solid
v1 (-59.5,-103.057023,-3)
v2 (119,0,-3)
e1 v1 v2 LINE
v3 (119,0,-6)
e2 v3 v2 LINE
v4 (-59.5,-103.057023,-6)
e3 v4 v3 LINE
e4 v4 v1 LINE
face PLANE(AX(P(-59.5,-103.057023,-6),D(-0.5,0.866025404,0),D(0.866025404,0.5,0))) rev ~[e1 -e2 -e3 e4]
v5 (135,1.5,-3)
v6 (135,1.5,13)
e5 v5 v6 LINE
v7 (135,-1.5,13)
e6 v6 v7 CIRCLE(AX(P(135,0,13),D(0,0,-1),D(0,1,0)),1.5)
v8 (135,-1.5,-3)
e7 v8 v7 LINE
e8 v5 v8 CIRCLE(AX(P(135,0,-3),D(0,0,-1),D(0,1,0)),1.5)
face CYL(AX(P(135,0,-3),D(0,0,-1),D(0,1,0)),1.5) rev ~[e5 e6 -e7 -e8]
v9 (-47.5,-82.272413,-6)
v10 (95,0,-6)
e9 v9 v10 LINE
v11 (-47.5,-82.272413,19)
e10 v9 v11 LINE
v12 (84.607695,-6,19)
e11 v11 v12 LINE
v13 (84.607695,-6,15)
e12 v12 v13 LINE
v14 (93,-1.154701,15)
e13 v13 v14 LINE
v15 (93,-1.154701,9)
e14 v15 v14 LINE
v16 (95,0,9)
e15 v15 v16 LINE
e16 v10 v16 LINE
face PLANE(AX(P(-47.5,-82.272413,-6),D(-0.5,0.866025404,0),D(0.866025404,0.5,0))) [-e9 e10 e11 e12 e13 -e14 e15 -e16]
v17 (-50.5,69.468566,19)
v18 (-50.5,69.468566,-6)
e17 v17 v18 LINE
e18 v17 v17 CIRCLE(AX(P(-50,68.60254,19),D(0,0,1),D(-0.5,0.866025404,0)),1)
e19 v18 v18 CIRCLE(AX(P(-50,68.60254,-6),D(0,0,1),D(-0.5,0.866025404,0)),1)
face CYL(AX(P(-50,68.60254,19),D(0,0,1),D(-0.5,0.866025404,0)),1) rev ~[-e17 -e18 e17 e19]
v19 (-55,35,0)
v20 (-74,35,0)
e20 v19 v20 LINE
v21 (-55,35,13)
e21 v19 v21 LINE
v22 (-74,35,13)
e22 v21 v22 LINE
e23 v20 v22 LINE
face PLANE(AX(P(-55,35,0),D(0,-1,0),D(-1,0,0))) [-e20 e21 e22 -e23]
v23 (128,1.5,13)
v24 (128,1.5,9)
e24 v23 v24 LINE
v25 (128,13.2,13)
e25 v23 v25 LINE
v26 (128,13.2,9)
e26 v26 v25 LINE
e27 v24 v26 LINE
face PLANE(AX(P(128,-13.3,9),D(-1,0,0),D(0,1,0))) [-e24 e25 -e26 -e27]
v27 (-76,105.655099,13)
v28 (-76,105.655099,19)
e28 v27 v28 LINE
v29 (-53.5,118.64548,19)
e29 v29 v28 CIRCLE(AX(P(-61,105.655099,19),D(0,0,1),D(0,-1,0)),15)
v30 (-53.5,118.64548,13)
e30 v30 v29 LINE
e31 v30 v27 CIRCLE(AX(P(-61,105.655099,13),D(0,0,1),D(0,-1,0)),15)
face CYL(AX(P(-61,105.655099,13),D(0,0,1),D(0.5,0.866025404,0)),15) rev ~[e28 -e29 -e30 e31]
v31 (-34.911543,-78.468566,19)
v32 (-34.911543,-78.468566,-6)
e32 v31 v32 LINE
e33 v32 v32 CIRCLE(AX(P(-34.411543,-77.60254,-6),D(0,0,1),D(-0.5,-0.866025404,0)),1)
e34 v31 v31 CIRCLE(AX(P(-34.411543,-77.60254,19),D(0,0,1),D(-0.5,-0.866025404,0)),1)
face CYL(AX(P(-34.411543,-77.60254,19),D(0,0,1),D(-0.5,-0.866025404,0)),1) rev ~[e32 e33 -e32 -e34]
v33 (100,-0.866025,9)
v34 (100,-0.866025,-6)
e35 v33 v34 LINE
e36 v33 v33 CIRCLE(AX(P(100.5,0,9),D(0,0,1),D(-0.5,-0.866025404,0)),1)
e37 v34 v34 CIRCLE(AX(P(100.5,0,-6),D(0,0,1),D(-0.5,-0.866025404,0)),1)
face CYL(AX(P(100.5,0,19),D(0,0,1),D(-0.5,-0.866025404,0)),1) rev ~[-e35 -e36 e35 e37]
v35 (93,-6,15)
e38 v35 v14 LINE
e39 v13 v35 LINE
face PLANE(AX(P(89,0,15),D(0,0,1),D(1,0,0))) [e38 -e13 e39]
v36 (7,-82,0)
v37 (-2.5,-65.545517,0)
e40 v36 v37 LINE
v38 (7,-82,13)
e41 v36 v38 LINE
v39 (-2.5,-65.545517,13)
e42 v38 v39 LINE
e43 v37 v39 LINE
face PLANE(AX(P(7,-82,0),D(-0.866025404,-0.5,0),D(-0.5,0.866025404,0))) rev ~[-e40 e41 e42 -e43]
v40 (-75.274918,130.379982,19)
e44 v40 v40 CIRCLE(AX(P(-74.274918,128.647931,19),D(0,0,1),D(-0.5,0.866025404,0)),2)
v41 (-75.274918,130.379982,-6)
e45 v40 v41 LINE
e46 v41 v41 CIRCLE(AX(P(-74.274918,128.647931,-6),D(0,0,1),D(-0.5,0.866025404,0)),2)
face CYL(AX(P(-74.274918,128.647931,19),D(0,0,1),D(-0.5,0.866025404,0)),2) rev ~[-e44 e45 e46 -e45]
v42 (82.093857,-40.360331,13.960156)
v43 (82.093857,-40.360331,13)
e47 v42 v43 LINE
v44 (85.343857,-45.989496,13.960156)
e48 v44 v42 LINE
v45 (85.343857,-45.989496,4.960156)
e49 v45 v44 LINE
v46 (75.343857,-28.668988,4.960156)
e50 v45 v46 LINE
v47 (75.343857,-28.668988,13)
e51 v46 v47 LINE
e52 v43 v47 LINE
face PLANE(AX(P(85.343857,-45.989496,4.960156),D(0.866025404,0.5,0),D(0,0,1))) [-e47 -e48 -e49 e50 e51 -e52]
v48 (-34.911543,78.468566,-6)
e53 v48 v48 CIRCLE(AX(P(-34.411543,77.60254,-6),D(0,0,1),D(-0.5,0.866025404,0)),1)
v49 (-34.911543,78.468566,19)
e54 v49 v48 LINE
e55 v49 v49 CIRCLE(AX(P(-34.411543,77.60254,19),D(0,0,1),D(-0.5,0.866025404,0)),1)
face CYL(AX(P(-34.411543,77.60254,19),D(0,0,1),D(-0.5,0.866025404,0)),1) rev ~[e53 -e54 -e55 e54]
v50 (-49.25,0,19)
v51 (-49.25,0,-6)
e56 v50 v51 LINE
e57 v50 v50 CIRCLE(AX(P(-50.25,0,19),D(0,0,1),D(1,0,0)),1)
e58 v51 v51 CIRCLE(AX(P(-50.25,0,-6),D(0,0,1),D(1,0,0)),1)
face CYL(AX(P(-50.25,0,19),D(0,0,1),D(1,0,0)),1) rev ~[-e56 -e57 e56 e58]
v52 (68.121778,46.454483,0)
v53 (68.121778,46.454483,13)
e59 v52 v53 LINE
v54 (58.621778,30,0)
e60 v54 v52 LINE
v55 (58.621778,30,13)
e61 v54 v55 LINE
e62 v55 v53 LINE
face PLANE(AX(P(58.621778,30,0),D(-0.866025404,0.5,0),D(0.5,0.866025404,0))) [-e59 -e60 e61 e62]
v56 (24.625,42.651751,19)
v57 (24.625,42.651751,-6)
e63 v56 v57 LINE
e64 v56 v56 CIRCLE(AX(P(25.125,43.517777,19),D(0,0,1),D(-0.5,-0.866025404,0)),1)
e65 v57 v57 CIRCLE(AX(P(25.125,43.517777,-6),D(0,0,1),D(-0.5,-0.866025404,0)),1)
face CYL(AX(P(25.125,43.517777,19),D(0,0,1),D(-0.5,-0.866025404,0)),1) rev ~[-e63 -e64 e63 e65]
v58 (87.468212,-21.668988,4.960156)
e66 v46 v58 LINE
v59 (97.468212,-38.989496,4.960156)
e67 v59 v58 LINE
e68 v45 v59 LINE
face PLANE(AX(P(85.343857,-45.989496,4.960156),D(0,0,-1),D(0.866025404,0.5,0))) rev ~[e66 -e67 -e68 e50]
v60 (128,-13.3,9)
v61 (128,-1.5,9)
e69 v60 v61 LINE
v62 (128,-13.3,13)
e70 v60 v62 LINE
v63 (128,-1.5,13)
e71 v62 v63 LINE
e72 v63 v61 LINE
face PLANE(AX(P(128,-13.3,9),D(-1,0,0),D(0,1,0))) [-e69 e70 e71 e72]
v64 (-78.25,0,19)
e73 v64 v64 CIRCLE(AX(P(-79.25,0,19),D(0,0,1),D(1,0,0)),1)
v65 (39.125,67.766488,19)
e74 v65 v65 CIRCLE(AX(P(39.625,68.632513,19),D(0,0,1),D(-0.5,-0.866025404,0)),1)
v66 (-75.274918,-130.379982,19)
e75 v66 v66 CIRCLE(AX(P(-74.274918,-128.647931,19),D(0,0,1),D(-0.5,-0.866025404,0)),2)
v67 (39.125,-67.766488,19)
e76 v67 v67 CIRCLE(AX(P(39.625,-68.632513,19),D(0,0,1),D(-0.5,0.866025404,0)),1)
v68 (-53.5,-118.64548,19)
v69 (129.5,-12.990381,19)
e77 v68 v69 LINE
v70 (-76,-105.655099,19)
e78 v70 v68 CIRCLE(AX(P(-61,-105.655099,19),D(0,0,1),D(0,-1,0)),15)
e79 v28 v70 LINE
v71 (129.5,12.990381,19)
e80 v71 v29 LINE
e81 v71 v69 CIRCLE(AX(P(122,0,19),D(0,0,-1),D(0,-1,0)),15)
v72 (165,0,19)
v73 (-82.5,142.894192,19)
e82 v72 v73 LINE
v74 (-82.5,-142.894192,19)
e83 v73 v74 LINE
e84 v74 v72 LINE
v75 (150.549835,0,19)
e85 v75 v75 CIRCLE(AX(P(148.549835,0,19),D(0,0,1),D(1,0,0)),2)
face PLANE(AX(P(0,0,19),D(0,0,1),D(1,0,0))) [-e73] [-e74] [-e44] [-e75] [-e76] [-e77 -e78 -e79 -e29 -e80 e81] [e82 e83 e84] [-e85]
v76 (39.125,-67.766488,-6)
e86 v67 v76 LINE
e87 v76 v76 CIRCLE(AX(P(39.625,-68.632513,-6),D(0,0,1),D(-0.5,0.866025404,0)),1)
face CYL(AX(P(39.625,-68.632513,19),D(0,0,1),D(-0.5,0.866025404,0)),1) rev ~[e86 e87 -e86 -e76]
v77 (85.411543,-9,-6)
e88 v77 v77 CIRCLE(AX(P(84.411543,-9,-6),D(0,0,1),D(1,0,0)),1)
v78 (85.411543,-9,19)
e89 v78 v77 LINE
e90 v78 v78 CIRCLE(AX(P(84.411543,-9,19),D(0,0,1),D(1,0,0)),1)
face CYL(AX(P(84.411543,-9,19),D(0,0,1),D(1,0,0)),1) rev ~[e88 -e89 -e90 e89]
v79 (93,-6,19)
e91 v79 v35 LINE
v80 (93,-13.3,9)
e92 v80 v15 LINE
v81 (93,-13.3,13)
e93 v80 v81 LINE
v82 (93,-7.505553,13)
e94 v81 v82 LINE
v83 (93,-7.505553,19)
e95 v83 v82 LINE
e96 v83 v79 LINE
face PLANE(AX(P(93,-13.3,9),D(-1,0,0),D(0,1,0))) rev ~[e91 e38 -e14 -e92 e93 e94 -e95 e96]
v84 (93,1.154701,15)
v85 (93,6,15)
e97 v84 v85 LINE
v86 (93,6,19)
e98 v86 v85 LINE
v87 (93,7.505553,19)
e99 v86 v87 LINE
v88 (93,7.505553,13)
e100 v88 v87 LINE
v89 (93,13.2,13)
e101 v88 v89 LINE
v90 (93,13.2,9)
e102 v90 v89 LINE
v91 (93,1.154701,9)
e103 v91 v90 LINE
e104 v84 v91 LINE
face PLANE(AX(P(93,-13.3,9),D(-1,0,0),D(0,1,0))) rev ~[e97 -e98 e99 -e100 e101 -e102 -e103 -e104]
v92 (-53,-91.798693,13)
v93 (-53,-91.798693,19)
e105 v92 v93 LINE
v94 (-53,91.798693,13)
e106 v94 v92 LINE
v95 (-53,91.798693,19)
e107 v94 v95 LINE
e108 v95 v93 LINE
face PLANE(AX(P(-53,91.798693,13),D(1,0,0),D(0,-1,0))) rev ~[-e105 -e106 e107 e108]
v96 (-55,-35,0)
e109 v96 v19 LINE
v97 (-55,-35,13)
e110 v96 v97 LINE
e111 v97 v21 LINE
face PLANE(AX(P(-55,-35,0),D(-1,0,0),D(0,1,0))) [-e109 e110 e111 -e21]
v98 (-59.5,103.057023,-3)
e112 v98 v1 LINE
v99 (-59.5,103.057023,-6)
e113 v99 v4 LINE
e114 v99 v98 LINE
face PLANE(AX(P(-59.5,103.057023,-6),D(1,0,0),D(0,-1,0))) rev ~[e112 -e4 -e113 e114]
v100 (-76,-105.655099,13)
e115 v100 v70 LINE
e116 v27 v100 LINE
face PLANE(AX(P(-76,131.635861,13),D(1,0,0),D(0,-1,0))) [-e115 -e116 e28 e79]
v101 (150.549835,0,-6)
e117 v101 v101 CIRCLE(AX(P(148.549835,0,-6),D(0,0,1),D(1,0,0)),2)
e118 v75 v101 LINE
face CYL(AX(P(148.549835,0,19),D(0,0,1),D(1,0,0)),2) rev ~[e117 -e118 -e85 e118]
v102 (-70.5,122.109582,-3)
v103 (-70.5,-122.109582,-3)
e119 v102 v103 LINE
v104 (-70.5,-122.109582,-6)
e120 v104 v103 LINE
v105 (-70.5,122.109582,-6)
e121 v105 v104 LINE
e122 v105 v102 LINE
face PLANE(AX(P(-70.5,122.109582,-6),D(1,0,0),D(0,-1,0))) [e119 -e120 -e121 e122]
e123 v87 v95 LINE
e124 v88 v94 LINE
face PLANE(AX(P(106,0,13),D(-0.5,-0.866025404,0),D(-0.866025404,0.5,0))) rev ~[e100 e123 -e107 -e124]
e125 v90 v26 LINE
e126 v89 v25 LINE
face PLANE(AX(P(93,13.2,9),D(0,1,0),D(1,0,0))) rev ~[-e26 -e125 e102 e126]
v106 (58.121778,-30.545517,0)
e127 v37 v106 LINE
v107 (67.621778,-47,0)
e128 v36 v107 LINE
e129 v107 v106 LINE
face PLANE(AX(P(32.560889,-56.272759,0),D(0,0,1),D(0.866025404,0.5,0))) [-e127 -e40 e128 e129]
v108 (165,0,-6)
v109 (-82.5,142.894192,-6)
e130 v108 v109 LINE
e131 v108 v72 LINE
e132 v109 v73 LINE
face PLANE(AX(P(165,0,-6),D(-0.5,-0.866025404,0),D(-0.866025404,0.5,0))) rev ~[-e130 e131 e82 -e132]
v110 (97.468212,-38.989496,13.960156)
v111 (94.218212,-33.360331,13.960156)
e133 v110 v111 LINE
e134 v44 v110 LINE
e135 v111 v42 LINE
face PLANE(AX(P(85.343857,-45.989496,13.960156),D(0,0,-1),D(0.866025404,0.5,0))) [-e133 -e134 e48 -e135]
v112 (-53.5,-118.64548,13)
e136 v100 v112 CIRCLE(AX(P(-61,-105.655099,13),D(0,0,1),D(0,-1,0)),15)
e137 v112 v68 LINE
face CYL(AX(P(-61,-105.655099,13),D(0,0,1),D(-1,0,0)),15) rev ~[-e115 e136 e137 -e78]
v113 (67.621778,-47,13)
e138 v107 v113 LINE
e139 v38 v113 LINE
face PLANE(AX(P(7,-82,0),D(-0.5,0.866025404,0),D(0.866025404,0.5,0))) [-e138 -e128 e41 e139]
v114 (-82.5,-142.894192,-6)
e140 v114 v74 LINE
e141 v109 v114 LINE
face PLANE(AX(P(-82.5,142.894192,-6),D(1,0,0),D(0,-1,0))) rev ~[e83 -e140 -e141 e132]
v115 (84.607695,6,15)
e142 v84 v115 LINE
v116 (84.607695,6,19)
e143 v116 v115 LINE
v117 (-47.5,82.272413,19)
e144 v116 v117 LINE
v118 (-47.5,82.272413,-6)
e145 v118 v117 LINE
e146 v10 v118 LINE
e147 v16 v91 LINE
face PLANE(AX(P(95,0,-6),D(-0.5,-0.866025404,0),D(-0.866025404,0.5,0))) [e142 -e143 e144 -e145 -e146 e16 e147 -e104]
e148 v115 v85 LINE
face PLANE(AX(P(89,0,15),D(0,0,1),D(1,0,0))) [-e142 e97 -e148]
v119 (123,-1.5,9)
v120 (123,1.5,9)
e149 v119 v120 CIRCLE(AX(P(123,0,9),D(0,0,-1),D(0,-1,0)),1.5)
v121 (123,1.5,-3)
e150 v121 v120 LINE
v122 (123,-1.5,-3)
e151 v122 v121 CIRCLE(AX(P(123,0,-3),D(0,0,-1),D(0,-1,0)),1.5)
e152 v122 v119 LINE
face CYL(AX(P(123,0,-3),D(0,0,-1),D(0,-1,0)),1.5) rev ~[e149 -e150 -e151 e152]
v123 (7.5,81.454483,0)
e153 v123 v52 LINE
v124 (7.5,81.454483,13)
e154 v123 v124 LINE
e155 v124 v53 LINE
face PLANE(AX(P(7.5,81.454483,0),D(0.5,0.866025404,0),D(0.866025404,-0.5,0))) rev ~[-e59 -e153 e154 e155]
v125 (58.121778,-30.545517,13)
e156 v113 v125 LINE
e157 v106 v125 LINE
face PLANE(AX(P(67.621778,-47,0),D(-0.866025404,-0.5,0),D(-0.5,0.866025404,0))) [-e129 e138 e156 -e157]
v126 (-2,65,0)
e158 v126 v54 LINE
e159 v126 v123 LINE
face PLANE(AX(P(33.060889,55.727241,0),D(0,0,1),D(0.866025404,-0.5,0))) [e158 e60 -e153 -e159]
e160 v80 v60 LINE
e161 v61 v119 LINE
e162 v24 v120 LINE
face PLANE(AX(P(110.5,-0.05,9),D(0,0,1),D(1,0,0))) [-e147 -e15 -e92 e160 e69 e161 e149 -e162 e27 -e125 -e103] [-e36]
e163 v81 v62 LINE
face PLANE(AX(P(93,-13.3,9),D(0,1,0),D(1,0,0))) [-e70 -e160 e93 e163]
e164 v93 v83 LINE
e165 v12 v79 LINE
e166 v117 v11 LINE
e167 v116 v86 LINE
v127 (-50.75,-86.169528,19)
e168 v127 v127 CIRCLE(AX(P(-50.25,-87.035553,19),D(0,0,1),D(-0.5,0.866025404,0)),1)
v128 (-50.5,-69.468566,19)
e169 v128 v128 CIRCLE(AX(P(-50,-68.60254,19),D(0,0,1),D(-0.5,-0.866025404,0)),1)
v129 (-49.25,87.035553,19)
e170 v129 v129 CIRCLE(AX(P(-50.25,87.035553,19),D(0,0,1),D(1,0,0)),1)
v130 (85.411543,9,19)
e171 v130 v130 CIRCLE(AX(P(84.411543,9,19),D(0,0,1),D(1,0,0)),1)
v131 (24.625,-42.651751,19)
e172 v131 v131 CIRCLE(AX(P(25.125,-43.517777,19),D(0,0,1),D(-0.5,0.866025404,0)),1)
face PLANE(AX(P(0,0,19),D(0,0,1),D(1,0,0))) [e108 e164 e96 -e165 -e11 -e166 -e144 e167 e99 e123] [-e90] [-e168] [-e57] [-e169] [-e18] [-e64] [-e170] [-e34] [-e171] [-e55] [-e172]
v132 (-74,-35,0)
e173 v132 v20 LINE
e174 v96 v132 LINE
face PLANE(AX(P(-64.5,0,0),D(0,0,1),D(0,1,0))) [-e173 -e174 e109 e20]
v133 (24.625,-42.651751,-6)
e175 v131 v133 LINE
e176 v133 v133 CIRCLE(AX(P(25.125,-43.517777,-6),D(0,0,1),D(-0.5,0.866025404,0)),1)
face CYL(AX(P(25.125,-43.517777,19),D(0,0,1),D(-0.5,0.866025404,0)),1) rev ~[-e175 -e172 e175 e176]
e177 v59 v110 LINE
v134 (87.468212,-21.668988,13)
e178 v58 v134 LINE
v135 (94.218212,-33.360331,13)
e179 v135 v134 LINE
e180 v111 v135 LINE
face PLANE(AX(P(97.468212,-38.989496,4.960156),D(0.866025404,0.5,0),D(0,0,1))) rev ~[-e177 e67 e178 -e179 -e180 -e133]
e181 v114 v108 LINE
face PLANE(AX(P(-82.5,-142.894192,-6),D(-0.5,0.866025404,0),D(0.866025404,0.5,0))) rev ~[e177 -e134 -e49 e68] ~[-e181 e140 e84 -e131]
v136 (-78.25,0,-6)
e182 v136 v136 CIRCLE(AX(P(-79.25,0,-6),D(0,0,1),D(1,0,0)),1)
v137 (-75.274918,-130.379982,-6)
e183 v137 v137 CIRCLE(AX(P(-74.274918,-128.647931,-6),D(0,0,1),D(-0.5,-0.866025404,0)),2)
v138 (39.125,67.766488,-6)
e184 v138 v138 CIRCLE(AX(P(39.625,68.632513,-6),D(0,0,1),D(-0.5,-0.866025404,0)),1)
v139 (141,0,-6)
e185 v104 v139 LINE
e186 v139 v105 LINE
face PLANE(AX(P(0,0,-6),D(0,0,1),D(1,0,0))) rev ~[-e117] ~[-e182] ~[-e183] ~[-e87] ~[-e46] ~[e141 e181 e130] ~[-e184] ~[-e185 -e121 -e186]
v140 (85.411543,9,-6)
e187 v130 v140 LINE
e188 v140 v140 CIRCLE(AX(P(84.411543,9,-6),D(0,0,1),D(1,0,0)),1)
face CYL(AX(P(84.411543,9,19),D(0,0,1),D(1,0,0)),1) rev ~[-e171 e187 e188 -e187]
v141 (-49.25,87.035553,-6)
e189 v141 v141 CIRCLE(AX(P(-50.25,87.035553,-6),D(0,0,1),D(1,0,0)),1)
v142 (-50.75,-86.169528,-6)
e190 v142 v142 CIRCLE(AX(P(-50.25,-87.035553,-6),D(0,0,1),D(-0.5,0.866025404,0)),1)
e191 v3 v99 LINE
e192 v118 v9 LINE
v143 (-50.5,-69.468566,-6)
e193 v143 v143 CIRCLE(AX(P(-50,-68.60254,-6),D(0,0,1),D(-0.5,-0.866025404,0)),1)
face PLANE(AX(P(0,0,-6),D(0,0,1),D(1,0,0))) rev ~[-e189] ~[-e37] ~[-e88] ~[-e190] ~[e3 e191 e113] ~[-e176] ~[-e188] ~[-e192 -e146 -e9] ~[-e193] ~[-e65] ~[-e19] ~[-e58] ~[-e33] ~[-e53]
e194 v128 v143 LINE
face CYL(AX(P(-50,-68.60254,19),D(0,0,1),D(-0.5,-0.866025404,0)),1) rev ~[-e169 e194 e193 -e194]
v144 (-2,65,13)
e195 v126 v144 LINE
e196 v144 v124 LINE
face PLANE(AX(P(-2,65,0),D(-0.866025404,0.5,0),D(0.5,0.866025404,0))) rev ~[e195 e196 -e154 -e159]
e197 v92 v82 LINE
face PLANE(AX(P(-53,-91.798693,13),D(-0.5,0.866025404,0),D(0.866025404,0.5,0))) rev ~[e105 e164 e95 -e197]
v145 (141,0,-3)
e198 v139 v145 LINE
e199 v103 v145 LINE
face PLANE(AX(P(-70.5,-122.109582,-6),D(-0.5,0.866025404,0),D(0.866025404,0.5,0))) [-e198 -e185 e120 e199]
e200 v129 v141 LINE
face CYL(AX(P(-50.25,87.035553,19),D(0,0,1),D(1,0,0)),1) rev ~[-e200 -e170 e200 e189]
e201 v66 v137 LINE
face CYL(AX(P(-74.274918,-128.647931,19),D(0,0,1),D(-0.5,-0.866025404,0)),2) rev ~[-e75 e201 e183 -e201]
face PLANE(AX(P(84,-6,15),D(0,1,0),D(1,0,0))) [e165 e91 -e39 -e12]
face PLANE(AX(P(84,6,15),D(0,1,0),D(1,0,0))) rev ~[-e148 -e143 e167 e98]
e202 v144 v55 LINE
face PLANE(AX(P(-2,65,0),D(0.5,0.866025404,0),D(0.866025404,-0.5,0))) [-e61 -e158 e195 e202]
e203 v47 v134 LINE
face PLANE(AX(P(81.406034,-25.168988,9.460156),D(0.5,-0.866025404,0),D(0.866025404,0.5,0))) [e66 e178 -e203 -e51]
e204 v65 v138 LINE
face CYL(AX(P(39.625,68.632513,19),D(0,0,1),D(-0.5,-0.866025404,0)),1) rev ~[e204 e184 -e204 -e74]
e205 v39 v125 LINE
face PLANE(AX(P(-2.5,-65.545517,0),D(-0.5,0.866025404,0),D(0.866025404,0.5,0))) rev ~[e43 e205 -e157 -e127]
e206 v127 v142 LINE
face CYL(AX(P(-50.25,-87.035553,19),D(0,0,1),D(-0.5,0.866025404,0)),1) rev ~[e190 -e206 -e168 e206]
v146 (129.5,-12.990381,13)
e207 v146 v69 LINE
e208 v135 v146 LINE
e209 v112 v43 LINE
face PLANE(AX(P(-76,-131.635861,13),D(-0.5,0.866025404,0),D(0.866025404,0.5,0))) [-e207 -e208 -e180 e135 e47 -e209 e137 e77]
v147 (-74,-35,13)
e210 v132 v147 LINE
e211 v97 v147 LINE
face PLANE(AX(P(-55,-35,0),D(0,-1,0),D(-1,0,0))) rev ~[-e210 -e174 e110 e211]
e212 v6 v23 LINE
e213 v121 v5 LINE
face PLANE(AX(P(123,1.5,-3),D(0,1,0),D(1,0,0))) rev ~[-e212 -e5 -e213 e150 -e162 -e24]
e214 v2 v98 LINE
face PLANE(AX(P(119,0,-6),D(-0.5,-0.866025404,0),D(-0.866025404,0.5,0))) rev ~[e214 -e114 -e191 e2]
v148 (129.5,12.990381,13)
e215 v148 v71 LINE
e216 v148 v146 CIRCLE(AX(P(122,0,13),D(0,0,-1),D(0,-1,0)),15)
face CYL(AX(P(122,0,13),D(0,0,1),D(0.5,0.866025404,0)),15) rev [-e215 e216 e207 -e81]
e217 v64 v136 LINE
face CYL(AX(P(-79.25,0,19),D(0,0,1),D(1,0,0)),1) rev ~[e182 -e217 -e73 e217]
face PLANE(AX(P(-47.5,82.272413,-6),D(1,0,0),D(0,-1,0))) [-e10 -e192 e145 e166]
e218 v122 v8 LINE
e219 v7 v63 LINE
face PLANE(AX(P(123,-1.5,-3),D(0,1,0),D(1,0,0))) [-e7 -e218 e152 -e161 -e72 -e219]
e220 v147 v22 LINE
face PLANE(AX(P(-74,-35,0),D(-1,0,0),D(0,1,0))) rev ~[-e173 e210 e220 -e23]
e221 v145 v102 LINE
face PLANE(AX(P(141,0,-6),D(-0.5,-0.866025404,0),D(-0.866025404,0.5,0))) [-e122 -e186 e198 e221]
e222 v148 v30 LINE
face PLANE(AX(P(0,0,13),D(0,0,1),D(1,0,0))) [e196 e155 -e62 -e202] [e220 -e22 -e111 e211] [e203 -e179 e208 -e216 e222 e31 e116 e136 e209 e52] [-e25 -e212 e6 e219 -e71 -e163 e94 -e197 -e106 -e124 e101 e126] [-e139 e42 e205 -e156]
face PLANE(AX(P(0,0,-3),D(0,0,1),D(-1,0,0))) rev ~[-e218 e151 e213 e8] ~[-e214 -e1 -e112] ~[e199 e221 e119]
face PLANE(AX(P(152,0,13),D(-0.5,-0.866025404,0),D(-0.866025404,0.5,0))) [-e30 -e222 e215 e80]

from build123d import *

# Parameters (mm, degrees)
PRISM003_DEPTH         = 6
PRISM002_DEPTH         = 6
BOX004_W               = 10
BOX004_H               = 12
BOX004_DEPTH           = 4
BOX003_W               = 35
BOX003_H               = 26.5
BOX003_DEPTH           = 10
BOX002_W               = 70
BOX002_H               = 19
BOX002_DEPTH           = 19
BOX002_PLACEMENT_ANGLE = 30
BOX001_W               = 70
BOX001_H               = 19
BOX001_DEPTH           = 19
BOX001_PLACEMENT_ANGLE = 90.0000000001
BOX_W                  = 70
BOX_H                  = 19
BOX_DEPTH              = 19
BOX_PLACEMENT_ANGLE    = 30
PRISM001_DEPTH         = 25
PRISM_DEPTH            = 25
FILLET_R               = 15
SKETCH001_R            = 2
POCKET_DEPTH           = 782.7773522307
POLARPATTERN_COUNT     = 3
POCKET001_DEPTH        = 3
SKETCH002_R            = 1
POCKET002_DEPTH        = 782.7773522307
POLARPATTERN001_COUNT  = 3
SKETCH004_R            = 1
POCKET003_DEPTH        = 782.7773522307
POLARPATTERN002_COUNT  = 3
POLARPATTERN003_COUNT  = 3
SKETCH005_R            = 1
POCKET004_DEPTH        = 782.7773522307
POLARPATTERN004_COUNT  = 3
POCKET005_DEPTH        = 22.001
SKETCH007_W            = 14
SKETCH007_H            = 9
POCKET006_DEPTH        = 20


with BuildPart() as prism003:
    # Prism003 → Prism003 (new body)
    with BuildSketch(Plane.XY.offset(13)):
        Polygon((106, 0), (-53, 91.7986928012), (-53, -91.7986928012), align=None)
    extrude(amount=PRISM003_DEPTH)


with BuildPart() as cut006:
    # Prism002 → Prism002 (new body)
    with BuildSketch(Plane.XY.offset(13)):
        Polygon((152, 0), (-76, 131.6358613752), (-76, -131.6358613752), align=None)
    extrude(amount=PRISM002_DEPTH)

    # Cut006: cut Prism003
    add(prism003.part, mode=Mode.SUBTRACT)


with BuildPart() as box004:
    # Box004 → Box004 (new body)
    with BuildSketch(Plane(origin=(84, -6, 15), x_dir=(1, 0, 0), z_dir=(0, 0, 1))):
        with Locations((5, 6)):
            Rectangle(BOX004_W, BOX004_H)
    extrude(amount=BOX004_DEPTH)


with BuildPart() as box003:
    # Box003 → Box003 (new body)
    with BuildSketch(Plane(origin=(93, -13.3, 9), x_dir=(1, 0, 0), z_dir=(0, 0, 1))):
        with Locations((17.5, 13.25)):
            Rectangle(BOX003_W, BOX003_H)
    extrude(amount=BOX003_DEPTH)


with BuildPart() as box002:
    # Box002 → Box002 (new body)
    with BuildSketch(Plane.XY):
        with Locations((35, 9.5)):
            Rectangle(BOX002_W, BOX002_H)
    extrude(amount=BOX002_DEPTH)


with BuildPart() as box002_1:
    # Box002 placement: moved
    add(box002.part.moved(Location((7, -82, 0))).rotate(Axis((7, -82, 0), (0, 0, 1)), BOX002_PLACEMENT_ANGLE))


with BuildPart() as box001:
    # Box001 → Box001 (new body)
    with BuildSketch(Plane.XY):
        with Locations((35, 9.5)):
            Rectangle(BOX001_W, BOX001_H)
    extrude(amount=BOX001_DEPTH)


with BuildPart() as box001_1:
    # Box001 placement: moved
    add(box001.part.moved(Location((-55, -35, 0))).rotate(Axis((-55, -35, 0), (0, 0, 1)), BOX001_PLACEMENT_ANGLE))


with BuildPart() as box:
    # Box → Box (new body)
    with BuildSketch(Plane.XY):
        with Locations((35, 9.5)):
            Rectangle(BOX_W, BOX_H)
    extrude(amount=BOX_DEPTH)


with BuildPart() as box_1:
    # Box placement: moved
    add(box.part.moved(Location((-2, 65, 0))).rotate(Axis((-2, 65, 0), (0, 0, -1)), BOX_PLACEMENT_ANGLE))


with BuildPart() as prism001:
    # Prism001 → Prism001 (new body)
    with BuildSketch(Plane.XY.offset(-6)):
        Polygon((95, 0), (-47.5, 82.2724133595), (-47.5, -82.2724133595), align=None)
    extrude(amount=PRISM001_DEPTH)


with BuildPart() as body:
    # Prism → Prism (new body)
    with BuildSketch(Plane.XY.offset(-6)):
        Polygon((165, 0), (-82.5, 142.8941916244), (-82.5, -142.8941916244), align=None)
    extrude(amount=PRISM_DEPTH)

    # Cut: cut Prism001
    add(prism001.part, mode=Mode.SUBTRACT)

    # Cut001: cut Box
    add(box_1.part, mode=Mode.SUBTRACT)

    # Cut002: cut Box001
    add(box001_1.part, mode=Mode.SUBTRACT)

    # Cut003: cut Box002
    add(box002_1.part, mode=Mode.SUBTRACT)

    # Cut004: cut Box003
    add(box003.part, mode=Mode.SUBTRACT)

    # Cut005: cut Box004
    add(box004.part, mode=Mode.SUBTRACT)

    # Cut007: cut Cut006
    add(cut006.part, mode=Mode.SUBTRACT)

    # Fillet
    fillet_edges = [body.edges().sort_by_distance(p)[0] for p in [
        (152, 0, 16),
        (-76, 131.635861, 16),
        (-76, -131.635861, 16),
    ]]
    fillet(fillet_edges, radius=FILLET_R)

    # Sketch001 (on Face1 of BaseFeature) → Pocket (cut, through all)
    with BuildSketch(Plane.XY.offset(19)):
        with Locations((148.549835, 0)):
            Circle(SKETCH001_R)
    pocket = extrude(amount=-POCKET_DEPTH, mode=Mode.SUBTRACT)

    # PolarPattern: Pocket ×3 about axis
    polarpattern_axis = Axis((0, 0, 19), (0, 0, 1))
    for i in range(1, POLARPATTERN_COUNT):
        add(pocket.rotate(polarpattern_axis, i * 360 / POLARPATTERN_COUNT), mode=Mode.SUBTRACT)

    # Sketch003 (on Face14 of PolarPattern) → Pocket001 (cut)
    with BuildSketch(Plane(origin=(0, 0, -6), x_dir=(1, 0, 0), z_dir=(0, 0, -1))):
        Polygon((-70.5, 122.1095819336), (141, 0), (-70.5, -122.1095819336), align=None)
        Polygon((-59.5, -103.0570230503), (-59.5, 103.0570230503), (119, 0), align=None, mode=Mode.SUBTRACT)
    extrude(amount=-POCKET001_DEPTH, mode=Mode.SUBTRACT)

    # Sketch002 (on Face39 of PolarPattern) → Pocket002 (cut, through all)
    with BuildSketch(Plane.XY.offset(19)):
        with Locations((-50.25, 0)):
            Circle(SKETCH002_R)
        with Locations((-50.25, 87.0355530803)):
            Circle(SKETCH002_R)
    pocket002 = extrude(amount=-POCKET002_DEPTH, mode=Mode.SUBTRACT)

    # PolarPattern001: Pocket002 ×3 about axis
    polarpattern001_axis = Axis((0, 0, 19), (0, 0, 1))
    for i in range(1, POLARPATTERN001_COUNT):
        add(pocket002.rotate(polarpattern001_axis, i * 360 / POLARPATTERN001_COUNT), mode=Mode.SUBTRACT)

    # Sketch004 (on Face40 of PolarPattern001) → Pocket003 (cut, through all)
    with BuildSketch(Plane.XY.offset(19)):
        with Locations((84.4115427319, 9)):
            Circle(SKETCH004_R)
        with Locations((84.4115427319, -9)):
            Circle(SKETCH004_R)
    pocket003 = extrude(amount=-POCKET003_DEPTH, mode=Mode.SUBTRACT)

    # PolarPattern002: Pocket003 ×3 about axis
    polarpattern002_axis = Axis((0, 0, 19), (0, 0, 1))
    for i in range(1, POLARPATTERN002_COUNT):
        add(pocket003.rotate(polarpattern002_axis, i * 360 / POLARPATTERN002_COUNT), mode=Mode.SUBTRACT)

    # PolarPattern003: Pocket002 ×3 about axis
    polarpattern003_axis = Axis((0, 0, 19), (0, 0, 1))
    for i in range(1, POLARPATTERN003_COUNT):
        add(pocket002.rotate(polarpattern003_axis, i * 360 / POLARPATTERN003_COUNT), mode=Mode.SUBTRACT)

    # Sketch005 (on Face1 of PolarPattern003) → Pocket004 (cut, through all)
    with BuildSketch(Plane.XY.offset(19)):
        with Locations((-79.25, 0)):
            Circle(SKETCH005_R)
    pocket004 = extrude(amount=-POCKET004_DEPTH, mode=Mode.SUBTRACT)

    # PolarPattern004: Pocket004 ×3 about axis
    polarpattern004_axis = Axis((0, 0, 19), (0, 0, 1))
    for i in range(1, POLARPATTERN004_COUNT):
        add(pocket004.rotate(polarpattern004_axis, i * 360 / POLARPATTERN004_COUNT), mode=Mode.SUBTRACT)

    # Sketch006 (on Face42 of PolarPattern004) → Pocket005 (cut, through all)
    with BuildSketch(Plane(origin=(0, 0, -3), x_dir=(1, 0, 0), z_dir=(0, 0, -1))):
        with BuildLine():
            ThreePointArc((123, 1.5), (121.5, 0), (123, -1.5))
            Line((123, -1.5), (135, -1.5))
            ThreePointArc((135, -1.5), (136.5, 0), (135, 1.5))
            Line((123, 1.5), (135, 1.5))
        make_face()
    extrude(amount=-POCKET005_DEPTH, mode=Mode.SUBTRACT)

    # Sketch007 (on Face3 of Pocket005) → Pocket006 (cut)
    with BuildSketch(Plane(origin=(41.25, -71.4470958122, 0), x_dir=(0.8660254038, 0.5, 0), z_dir=(0.5, -0.8660254038, 0))):
        with Locations((57.9152, 9.460156)):
            Rectangle(SKETCH007_W, SKETCH007_H)
    extrude(amount=-POCKET006_DEPTH, mode=Mode.SUBTRACT)


solid = body.part
